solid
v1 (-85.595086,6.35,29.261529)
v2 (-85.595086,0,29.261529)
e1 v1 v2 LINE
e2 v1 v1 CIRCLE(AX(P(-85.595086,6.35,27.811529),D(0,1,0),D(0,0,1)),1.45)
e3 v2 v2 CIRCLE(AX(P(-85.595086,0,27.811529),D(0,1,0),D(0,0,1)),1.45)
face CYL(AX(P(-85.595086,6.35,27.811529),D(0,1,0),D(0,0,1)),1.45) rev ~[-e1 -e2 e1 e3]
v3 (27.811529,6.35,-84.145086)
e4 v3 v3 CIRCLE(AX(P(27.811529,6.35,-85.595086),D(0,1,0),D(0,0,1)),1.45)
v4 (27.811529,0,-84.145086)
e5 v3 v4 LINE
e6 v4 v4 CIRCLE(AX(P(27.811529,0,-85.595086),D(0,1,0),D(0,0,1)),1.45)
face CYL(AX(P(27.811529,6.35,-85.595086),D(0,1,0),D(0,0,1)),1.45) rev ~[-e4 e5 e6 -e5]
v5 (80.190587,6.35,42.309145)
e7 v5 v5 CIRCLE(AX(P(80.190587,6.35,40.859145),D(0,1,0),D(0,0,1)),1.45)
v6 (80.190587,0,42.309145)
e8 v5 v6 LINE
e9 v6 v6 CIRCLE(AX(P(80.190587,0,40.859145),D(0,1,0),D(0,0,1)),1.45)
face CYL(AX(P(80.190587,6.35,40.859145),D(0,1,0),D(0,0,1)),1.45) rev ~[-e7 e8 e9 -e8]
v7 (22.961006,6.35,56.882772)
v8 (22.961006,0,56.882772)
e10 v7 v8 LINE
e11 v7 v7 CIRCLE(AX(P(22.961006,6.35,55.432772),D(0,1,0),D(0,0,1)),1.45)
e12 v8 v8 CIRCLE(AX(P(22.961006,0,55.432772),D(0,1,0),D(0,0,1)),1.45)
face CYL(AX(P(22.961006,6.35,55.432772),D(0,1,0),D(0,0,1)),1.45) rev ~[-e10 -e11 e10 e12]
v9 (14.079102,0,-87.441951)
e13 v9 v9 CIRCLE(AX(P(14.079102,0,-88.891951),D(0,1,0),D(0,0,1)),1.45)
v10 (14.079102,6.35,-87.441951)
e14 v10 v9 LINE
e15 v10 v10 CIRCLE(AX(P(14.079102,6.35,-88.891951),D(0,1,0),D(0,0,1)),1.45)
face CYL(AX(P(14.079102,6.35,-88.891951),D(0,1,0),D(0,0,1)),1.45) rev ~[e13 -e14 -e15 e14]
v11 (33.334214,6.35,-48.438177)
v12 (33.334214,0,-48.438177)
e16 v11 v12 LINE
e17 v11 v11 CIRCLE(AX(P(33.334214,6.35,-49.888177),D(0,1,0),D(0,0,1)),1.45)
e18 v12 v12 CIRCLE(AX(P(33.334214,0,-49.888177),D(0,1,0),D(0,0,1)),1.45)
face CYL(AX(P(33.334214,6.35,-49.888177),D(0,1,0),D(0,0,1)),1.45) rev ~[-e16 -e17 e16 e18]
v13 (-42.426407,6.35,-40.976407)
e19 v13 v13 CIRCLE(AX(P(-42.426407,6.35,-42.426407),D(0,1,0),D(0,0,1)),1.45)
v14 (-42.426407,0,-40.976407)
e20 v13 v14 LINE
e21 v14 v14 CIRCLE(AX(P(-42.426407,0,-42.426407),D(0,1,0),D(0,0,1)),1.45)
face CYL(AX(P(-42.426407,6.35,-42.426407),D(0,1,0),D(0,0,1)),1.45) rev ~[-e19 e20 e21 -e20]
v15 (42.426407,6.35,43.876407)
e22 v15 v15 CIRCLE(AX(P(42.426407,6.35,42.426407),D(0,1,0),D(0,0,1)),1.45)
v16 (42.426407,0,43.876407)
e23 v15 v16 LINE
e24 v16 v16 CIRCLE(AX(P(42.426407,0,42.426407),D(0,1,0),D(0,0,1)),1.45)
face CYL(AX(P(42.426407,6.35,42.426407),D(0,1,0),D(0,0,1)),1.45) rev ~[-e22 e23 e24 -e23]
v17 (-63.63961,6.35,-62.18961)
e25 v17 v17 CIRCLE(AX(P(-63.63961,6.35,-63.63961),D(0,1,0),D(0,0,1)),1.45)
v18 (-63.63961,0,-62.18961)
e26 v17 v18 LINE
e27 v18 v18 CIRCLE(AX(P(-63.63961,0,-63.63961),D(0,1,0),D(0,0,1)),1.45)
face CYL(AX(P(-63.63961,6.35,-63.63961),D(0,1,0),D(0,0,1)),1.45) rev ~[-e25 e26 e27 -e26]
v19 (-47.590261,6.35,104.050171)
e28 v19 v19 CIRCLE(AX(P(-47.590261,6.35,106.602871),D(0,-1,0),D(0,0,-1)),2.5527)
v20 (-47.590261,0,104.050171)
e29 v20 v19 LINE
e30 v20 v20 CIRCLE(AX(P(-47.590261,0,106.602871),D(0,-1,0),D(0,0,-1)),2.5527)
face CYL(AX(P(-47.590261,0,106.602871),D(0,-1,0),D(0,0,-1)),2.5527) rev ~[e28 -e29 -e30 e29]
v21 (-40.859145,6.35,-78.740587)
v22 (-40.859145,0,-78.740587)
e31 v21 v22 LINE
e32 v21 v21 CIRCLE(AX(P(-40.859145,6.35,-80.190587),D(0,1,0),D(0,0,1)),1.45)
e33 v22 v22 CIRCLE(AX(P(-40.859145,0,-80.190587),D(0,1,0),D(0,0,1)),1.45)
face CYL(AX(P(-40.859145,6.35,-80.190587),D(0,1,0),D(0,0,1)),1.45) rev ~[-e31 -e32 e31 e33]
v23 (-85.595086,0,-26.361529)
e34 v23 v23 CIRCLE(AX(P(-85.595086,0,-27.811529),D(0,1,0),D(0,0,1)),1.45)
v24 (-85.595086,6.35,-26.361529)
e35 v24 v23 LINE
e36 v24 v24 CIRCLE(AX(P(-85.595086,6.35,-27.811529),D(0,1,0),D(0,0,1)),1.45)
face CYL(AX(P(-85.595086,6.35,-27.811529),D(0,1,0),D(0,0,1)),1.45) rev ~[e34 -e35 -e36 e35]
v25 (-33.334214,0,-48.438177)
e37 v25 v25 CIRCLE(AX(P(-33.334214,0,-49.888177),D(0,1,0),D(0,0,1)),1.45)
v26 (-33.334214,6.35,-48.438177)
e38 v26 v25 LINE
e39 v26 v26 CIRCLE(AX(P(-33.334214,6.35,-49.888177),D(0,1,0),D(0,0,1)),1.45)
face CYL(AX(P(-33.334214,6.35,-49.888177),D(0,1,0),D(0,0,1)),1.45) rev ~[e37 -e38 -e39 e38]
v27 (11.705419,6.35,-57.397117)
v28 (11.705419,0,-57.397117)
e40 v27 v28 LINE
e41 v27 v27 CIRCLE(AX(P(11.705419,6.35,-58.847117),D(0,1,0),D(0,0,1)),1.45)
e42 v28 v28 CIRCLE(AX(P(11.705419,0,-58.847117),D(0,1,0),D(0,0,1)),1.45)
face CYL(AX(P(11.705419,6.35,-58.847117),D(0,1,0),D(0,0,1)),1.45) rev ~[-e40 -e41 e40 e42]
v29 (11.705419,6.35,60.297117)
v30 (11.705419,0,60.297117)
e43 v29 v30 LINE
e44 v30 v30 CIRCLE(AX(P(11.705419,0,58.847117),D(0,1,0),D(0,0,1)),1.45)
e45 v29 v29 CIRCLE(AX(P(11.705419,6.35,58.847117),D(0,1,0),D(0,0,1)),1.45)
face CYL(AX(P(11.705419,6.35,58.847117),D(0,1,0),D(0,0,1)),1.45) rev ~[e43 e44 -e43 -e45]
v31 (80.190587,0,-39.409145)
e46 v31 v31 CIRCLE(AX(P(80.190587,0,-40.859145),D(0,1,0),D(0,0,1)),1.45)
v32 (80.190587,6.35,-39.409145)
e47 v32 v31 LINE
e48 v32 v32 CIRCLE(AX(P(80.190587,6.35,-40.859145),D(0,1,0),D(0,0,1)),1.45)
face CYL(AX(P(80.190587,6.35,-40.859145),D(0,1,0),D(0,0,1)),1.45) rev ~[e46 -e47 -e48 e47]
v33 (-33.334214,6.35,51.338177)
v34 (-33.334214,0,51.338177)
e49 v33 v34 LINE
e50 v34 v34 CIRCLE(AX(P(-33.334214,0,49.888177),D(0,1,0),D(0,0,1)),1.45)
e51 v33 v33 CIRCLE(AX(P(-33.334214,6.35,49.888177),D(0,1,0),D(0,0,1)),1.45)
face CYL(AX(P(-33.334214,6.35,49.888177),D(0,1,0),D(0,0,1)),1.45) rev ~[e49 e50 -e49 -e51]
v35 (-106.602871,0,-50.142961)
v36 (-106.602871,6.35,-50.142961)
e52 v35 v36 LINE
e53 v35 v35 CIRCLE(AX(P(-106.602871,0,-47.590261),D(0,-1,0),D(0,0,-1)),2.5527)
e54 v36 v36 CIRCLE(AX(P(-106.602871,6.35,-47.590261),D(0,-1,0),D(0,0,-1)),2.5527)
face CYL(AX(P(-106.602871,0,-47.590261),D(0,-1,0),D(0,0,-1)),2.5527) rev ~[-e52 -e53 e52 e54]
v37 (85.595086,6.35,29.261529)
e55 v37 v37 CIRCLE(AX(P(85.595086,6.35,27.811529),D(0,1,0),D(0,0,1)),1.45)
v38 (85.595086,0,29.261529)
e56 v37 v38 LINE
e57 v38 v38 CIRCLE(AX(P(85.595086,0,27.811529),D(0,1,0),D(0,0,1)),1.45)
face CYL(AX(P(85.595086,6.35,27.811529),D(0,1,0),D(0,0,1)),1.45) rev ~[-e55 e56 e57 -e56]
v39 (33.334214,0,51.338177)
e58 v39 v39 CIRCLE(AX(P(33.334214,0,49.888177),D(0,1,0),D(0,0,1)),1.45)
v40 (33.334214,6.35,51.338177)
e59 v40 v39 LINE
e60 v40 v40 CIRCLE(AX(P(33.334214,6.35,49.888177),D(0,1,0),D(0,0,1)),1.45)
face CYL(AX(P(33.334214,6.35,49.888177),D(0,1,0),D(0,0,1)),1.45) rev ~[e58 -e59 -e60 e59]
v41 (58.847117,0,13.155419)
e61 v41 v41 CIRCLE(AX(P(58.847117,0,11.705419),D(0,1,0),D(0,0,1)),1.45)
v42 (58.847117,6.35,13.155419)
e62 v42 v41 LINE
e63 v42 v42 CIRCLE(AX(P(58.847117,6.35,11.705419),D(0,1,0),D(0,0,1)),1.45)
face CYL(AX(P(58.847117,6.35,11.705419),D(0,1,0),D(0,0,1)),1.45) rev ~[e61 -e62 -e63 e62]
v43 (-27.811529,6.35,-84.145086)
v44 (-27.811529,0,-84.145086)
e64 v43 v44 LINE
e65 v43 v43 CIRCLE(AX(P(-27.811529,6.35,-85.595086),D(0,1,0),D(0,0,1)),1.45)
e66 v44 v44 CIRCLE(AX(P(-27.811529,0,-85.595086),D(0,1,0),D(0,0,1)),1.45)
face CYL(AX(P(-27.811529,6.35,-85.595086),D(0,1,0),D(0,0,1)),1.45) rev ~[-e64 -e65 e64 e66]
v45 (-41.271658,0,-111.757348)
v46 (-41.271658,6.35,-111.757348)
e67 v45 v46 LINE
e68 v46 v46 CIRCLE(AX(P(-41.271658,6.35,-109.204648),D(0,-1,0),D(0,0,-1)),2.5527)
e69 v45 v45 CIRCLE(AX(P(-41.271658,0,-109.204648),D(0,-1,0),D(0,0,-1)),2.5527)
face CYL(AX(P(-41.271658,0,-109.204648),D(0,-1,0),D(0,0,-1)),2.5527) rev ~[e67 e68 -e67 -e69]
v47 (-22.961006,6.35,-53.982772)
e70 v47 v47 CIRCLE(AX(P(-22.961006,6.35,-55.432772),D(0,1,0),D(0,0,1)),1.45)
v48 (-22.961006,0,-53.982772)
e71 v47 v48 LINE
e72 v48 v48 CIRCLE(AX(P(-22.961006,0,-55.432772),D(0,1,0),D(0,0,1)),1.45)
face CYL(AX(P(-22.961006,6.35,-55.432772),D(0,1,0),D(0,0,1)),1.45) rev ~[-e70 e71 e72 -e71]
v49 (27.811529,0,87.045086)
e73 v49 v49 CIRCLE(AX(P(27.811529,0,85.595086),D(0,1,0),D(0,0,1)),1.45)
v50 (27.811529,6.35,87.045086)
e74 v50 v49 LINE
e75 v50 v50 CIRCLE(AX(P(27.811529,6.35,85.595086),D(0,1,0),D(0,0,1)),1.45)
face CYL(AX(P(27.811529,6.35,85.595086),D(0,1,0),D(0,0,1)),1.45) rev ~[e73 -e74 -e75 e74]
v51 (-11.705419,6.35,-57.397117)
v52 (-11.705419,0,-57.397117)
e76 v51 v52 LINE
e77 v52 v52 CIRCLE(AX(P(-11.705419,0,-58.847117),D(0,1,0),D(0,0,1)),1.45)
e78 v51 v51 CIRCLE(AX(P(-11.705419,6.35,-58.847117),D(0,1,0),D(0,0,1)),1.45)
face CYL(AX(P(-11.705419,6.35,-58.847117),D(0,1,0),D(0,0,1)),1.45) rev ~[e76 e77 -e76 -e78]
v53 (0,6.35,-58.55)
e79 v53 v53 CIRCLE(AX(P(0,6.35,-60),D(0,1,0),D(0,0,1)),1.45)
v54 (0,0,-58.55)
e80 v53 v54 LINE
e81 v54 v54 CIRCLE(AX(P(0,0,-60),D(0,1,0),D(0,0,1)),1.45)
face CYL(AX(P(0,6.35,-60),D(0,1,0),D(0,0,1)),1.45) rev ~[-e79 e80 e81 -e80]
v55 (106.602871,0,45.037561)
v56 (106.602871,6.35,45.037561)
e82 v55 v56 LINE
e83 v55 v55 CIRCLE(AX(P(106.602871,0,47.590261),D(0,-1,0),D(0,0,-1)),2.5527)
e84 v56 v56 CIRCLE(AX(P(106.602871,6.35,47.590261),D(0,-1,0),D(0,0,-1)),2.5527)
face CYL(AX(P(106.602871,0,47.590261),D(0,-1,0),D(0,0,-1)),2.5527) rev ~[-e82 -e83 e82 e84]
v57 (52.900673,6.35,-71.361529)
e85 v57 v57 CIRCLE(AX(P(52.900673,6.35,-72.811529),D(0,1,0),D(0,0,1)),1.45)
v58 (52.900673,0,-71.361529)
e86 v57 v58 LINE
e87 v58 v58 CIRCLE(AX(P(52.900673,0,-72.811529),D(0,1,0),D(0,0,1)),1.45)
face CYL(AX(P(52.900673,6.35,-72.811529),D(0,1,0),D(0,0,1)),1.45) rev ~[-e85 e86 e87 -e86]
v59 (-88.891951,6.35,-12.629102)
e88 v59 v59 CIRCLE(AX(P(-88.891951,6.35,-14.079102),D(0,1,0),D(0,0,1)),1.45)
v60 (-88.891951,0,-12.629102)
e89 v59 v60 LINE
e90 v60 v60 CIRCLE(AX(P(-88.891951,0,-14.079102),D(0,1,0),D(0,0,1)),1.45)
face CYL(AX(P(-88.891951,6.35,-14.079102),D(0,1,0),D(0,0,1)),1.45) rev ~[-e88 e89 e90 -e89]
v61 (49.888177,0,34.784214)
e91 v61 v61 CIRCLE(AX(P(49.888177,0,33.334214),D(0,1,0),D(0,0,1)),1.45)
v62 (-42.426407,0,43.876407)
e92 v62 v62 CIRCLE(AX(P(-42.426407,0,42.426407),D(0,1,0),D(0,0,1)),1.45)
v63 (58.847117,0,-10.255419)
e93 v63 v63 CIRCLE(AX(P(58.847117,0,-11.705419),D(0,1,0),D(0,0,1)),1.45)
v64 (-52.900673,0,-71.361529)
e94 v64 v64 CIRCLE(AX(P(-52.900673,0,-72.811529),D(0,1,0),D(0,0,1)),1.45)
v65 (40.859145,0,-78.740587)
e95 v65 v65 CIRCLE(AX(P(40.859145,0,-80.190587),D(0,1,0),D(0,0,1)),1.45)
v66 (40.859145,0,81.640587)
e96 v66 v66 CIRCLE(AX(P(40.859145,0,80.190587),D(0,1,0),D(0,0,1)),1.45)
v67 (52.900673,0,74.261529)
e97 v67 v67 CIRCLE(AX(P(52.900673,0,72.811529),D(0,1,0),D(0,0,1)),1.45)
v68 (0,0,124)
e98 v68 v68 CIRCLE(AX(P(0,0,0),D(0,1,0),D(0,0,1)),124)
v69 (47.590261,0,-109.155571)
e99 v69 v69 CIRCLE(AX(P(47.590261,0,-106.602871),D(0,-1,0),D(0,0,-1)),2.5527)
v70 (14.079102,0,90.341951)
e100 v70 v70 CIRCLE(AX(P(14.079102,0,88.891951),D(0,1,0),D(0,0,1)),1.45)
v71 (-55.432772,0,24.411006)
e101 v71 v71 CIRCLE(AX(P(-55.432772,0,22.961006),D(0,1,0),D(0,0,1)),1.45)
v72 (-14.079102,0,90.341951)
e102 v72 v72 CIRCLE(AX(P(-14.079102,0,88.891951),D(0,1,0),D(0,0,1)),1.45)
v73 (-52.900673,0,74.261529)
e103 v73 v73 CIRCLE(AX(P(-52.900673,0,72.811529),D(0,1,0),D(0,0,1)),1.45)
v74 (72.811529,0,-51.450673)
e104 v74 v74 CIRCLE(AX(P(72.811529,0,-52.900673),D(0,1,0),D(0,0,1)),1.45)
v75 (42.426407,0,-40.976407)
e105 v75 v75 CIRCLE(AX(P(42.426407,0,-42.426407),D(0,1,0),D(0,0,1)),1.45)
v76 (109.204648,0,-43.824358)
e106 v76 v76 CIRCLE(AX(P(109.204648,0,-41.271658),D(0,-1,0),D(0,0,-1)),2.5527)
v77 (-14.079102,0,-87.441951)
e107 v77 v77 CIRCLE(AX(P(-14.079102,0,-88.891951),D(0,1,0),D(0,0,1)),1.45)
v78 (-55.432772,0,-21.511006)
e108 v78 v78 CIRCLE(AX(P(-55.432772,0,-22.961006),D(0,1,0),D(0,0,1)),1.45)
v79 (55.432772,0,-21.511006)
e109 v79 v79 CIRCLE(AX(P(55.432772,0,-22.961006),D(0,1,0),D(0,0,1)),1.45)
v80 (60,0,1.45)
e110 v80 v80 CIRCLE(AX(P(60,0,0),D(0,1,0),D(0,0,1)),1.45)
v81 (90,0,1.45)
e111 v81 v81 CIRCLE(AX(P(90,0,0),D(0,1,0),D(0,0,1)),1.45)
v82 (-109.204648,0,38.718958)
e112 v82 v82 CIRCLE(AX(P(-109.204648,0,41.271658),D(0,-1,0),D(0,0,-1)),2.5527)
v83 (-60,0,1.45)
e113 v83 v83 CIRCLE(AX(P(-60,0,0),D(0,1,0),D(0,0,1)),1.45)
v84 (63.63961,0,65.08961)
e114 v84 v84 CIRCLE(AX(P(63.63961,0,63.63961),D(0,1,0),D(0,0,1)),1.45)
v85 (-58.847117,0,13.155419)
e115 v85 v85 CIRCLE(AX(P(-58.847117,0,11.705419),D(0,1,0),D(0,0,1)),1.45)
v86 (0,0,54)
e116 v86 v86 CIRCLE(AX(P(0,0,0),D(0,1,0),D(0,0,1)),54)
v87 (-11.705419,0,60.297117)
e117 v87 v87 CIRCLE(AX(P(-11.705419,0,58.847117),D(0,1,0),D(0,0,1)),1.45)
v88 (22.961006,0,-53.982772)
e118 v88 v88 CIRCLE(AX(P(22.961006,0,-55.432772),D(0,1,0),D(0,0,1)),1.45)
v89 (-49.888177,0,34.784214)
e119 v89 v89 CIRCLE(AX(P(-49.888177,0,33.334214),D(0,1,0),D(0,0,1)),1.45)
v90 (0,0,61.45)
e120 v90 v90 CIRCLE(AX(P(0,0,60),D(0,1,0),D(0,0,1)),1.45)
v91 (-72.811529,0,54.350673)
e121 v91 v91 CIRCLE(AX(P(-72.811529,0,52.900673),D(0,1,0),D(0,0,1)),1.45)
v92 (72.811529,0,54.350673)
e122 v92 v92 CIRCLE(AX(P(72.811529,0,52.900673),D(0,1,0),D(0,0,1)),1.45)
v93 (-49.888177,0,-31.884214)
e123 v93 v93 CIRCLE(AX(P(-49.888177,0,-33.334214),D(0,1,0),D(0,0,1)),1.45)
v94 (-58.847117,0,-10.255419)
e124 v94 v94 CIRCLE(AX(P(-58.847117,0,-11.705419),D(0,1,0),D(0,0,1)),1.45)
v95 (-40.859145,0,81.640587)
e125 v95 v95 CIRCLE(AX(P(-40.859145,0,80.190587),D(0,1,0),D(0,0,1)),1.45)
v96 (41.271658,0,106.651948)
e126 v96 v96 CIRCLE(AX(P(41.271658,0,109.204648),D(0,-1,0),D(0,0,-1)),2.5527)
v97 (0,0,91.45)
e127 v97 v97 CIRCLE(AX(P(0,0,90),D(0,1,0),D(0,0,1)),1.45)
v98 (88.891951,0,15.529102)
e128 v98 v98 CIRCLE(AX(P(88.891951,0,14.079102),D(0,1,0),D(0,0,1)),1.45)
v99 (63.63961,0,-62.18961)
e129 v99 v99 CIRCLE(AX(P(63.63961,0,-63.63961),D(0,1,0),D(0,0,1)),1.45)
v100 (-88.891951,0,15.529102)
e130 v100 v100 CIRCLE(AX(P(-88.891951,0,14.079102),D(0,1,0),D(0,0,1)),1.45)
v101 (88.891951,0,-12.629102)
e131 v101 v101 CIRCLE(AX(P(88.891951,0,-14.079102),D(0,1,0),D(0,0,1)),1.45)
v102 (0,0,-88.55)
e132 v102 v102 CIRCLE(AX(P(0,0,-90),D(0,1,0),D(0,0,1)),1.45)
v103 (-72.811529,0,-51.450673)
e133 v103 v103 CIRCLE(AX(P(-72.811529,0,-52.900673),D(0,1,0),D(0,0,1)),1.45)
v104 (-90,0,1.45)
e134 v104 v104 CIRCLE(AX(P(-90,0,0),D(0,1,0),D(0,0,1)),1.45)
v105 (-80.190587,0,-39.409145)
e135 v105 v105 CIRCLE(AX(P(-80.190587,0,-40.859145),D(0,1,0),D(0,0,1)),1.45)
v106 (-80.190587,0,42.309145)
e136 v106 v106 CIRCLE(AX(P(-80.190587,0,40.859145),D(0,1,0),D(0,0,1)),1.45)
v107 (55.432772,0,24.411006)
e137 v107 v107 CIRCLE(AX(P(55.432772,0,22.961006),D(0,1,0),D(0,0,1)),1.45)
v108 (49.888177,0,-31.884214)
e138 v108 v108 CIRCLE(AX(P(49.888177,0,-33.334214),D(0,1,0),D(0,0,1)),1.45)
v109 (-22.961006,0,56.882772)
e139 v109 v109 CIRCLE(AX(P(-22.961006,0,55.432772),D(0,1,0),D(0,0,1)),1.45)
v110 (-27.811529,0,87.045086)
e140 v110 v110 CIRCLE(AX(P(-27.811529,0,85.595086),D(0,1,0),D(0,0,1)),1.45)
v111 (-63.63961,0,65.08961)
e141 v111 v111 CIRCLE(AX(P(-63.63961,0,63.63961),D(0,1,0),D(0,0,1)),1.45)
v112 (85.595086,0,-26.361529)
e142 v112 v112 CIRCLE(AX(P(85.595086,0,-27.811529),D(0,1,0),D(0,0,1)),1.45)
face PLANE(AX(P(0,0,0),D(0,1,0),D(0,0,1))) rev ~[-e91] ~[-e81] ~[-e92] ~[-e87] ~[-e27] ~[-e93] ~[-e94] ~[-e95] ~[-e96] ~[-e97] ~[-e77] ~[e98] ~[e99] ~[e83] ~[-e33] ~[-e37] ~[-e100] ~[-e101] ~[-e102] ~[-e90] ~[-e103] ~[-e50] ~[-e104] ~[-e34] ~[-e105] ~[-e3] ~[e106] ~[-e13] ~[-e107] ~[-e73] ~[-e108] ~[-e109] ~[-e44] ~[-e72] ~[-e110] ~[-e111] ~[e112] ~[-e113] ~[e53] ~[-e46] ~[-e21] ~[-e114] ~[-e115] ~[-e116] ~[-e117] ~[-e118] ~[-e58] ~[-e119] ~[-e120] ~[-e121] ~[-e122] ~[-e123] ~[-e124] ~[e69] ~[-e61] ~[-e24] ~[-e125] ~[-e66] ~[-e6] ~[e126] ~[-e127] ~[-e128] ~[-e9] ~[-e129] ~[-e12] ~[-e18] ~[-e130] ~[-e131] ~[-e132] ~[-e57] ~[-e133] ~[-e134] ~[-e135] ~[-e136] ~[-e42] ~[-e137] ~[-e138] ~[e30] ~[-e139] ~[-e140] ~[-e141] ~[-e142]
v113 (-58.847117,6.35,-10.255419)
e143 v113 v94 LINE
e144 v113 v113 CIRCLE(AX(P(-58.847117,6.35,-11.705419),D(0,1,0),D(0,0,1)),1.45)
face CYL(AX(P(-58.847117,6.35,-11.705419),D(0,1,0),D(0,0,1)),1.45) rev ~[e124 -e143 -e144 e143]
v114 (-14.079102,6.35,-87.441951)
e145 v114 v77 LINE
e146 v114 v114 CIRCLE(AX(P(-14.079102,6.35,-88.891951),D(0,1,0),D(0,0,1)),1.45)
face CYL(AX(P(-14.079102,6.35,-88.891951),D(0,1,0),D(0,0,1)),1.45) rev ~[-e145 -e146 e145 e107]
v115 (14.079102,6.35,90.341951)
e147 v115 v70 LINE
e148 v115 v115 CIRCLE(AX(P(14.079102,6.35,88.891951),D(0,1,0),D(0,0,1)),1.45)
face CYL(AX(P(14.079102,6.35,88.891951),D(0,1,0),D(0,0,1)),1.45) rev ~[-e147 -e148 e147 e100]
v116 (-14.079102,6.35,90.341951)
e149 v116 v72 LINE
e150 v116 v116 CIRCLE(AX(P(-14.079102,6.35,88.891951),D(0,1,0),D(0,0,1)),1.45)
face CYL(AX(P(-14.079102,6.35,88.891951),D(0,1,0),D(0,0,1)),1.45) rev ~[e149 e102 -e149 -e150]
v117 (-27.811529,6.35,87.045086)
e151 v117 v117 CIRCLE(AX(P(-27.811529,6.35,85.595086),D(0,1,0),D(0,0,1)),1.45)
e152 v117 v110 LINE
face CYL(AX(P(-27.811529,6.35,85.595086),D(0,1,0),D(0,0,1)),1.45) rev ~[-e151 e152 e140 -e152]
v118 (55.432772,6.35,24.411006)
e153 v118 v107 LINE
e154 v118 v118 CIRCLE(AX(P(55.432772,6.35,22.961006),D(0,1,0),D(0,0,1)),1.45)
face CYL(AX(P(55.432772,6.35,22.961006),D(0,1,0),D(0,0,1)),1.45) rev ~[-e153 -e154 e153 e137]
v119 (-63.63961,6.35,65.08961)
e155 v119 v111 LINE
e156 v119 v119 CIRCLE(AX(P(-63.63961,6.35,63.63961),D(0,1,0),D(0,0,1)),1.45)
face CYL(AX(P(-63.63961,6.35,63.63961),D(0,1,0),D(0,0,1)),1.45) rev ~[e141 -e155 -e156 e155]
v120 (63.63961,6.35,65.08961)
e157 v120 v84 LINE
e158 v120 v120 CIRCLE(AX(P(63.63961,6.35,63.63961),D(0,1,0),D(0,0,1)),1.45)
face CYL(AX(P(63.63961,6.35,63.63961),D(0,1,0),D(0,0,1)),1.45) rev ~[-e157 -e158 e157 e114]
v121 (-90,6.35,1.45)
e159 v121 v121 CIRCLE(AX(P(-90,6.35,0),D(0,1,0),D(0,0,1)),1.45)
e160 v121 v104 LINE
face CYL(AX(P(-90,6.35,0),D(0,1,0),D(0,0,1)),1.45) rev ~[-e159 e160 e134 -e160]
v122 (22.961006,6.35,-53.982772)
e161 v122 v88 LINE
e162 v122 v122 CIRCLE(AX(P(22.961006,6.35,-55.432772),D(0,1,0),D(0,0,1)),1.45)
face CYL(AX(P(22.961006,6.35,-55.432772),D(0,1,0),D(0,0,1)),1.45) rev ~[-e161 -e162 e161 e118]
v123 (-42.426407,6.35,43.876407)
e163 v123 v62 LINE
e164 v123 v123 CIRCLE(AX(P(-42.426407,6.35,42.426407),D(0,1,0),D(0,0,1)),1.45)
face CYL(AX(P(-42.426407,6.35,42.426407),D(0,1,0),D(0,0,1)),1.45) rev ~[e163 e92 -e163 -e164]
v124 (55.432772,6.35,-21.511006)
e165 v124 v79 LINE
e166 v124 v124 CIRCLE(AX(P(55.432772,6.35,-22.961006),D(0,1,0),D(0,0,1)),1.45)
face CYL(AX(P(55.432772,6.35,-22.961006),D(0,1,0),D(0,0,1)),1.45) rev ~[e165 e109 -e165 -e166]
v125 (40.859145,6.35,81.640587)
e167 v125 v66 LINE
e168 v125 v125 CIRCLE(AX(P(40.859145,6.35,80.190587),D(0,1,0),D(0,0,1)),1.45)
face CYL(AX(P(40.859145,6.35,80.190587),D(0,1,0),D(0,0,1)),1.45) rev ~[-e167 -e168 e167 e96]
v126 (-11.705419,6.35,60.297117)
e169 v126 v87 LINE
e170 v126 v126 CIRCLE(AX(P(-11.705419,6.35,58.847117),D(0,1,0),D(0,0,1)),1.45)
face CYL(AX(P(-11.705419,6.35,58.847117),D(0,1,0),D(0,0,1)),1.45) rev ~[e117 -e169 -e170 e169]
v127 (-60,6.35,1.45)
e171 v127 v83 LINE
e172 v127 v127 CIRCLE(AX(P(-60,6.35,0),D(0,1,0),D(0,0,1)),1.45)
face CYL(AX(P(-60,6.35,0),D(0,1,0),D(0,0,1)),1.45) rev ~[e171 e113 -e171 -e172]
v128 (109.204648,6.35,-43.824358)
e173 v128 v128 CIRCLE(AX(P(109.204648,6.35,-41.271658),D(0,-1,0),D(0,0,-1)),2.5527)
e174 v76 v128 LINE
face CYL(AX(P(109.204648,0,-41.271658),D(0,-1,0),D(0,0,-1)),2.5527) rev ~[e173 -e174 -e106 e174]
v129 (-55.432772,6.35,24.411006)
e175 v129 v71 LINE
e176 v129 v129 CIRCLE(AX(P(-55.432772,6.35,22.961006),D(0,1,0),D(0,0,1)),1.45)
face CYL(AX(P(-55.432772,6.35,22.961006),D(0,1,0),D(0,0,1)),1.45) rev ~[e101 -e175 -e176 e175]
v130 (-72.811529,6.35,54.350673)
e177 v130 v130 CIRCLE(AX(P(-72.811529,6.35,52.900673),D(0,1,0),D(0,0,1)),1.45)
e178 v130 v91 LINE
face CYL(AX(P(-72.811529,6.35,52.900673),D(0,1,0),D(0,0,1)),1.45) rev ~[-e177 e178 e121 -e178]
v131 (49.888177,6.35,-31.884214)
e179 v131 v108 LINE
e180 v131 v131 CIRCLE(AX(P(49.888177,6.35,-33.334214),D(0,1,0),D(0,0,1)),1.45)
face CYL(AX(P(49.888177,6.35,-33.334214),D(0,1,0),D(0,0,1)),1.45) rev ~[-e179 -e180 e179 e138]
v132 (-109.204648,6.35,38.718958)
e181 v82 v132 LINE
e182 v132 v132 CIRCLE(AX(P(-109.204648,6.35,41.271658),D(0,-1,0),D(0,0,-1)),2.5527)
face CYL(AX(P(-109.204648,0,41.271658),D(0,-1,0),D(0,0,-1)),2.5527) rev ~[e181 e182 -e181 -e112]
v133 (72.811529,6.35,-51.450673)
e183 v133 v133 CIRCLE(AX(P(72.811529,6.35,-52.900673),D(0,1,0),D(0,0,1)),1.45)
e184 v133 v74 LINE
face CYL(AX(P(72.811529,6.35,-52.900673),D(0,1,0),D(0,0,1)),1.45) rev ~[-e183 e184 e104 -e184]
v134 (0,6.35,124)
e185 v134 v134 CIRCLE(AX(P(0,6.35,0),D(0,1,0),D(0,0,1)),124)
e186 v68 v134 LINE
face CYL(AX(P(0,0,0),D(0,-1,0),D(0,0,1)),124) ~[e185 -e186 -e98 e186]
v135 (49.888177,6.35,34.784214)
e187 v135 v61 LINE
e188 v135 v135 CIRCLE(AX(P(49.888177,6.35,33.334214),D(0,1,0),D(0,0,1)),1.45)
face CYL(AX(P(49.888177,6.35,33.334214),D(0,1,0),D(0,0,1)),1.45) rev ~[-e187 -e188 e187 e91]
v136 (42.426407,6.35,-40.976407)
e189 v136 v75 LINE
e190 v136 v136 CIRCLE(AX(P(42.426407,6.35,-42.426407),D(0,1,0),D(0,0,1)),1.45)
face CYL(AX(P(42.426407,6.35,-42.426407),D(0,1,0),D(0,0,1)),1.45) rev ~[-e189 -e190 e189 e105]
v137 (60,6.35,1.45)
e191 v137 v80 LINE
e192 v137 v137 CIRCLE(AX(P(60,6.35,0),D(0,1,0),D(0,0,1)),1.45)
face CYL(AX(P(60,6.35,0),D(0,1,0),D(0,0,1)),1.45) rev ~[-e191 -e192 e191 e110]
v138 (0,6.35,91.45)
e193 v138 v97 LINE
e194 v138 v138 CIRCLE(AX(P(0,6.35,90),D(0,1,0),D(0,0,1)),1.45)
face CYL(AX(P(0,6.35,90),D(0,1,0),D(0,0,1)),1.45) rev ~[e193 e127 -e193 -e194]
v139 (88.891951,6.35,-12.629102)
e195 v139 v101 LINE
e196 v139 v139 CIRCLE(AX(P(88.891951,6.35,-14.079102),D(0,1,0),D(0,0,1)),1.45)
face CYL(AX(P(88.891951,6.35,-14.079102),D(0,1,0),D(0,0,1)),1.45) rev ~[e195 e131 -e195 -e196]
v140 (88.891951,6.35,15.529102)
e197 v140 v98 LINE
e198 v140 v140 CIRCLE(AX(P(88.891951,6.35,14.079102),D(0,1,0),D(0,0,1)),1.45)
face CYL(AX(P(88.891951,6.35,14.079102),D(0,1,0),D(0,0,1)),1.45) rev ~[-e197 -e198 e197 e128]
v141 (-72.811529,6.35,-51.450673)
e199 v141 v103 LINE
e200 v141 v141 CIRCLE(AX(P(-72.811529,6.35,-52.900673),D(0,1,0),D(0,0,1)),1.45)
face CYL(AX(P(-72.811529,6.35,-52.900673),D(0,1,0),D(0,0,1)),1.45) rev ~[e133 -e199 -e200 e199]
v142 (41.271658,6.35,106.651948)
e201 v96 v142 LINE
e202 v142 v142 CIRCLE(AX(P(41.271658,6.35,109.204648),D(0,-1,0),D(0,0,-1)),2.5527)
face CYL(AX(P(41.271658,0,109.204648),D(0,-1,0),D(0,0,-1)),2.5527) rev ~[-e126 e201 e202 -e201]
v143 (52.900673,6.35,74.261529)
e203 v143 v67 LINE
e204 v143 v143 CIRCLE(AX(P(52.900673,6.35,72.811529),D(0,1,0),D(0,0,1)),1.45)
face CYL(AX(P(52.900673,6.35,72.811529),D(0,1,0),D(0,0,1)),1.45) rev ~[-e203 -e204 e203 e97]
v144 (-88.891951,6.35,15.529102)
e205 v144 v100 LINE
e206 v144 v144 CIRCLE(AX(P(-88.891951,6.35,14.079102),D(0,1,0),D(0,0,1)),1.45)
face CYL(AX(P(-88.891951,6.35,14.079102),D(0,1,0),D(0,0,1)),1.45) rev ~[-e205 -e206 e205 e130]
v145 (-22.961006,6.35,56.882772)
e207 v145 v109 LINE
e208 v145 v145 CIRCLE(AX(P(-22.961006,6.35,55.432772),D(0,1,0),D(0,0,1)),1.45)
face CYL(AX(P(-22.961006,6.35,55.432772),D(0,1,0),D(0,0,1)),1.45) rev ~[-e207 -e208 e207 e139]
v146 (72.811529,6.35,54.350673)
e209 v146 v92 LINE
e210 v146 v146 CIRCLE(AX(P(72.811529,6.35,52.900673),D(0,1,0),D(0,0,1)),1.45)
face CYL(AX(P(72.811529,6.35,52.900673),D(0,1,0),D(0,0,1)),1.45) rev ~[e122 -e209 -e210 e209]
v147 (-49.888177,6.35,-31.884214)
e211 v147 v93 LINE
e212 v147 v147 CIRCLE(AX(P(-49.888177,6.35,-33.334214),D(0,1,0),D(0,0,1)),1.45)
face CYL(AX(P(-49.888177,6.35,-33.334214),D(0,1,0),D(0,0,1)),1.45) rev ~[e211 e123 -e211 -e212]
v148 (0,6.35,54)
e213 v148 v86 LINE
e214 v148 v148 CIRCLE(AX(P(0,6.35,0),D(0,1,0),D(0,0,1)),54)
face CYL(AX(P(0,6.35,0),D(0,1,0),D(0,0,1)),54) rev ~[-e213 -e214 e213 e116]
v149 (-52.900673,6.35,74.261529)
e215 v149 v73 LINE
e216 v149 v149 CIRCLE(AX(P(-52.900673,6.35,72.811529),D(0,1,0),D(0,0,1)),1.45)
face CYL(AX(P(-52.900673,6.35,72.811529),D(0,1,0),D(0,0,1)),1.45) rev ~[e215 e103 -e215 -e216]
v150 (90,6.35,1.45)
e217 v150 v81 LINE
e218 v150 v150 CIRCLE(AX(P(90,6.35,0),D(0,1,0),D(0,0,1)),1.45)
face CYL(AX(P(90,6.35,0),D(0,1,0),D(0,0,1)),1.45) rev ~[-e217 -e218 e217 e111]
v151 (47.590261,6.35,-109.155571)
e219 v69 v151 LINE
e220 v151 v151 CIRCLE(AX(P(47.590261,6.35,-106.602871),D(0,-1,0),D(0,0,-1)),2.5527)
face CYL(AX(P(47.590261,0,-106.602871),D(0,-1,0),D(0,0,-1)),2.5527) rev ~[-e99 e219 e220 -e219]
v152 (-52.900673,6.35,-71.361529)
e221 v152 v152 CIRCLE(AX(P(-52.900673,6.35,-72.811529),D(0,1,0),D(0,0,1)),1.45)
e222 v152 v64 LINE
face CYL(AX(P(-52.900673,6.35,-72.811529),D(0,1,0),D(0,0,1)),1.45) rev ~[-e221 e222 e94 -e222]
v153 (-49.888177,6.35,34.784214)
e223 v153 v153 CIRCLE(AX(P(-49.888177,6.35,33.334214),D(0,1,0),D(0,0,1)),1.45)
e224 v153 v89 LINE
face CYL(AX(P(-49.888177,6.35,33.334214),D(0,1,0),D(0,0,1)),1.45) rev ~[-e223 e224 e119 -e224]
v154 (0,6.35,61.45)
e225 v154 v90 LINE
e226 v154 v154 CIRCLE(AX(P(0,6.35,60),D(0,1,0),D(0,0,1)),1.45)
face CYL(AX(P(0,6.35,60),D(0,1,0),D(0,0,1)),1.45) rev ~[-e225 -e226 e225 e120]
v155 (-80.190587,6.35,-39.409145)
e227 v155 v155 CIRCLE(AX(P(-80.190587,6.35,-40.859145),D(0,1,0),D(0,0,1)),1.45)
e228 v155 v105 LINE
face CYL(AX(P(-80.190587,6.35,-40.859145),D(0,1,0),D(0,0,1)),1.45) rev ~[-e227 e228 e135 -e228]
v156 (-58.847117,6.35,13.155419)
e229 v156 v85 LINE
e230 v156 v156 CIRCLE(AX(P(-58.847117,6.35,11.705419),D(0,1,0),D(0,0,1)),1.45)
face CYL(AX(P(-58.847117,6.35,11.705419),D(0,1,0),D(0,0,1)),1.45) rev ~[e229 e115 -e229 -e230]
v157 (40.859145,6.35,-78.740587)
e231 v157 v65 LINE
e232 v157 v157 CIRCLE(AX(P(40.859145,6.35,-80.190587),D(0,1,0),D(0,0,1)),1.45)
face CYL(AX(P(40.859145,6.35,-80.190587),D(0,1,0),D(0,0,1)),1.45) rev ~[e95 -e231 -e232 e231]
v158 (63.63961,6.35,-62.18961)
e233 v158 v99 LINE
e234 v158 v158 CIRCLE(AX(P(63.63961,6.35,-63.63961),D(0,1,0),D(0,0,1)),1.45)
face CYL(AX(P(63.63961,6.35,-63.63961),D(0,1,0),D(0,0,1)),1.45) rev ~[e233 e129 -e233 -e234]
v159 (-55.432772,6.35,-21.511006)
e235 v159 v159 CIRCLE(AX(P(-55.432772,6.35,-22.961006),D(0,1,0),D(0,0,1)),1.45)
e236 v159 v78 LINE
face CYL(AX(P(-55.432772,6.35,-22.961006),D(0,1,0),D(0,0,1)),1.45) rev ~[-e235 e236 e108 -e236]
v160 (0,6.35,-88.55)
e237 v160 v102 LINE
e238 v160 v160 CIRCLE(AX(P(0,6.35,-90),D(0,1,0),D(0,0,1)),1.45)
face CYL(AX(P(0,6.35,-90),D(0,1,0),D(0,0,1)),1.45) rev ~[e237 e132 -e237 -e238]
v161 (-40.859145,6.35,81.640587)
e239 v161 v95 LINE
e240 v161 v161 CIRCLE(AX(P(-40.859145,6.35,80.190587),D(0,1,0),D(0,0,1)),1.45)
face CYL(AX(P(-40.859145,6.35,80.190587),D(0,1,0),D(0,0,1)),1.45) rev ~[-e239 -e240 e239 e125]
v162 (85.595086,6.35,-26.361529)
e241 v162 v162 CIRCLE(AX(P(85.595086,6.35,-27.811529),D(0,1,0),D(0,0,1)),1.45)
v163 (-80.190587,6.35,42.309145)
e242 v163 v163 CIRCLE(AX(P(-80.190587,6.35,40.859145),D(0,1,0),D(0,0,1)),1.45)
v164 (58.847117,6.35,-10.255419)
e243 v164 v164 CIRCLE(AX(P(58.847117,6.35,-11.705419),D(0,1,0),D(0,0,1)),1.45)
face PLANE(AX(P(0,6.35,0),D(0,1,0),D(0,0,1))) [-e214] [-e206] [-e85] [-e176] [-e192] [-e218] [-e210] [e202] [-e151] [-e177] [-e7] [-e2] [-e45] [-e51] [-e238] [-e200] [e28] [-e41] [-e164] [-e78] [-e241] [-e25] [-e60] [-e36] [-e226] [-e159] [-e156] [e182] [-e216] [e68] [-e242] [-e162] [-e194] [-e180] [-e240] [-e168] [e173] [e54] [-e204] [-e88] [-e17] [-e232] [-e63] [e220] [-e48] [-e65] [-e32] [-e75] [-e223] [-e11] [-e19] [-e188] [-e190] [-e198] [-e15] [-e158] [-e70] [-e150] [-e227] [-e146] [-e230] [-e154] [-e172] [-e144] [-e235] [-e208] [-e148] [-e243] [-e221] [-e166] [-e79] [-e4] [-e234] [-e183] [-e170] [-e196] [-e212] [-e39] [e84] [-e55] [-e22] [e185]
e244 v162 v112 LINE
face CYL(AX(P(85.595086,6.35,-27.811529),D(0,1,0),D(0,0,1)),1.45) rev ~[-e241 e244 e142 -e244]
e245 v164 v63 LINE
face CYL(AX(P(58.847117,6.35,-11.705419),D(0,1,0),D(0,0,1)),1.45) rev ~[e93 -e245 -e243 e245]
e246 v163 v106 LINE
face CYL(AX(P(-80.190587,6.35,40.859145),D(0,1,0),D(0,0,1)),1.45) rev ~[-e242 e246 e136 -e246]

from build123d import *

# Parameters (mm, degrees)
SKETCH1_R           = 124
BOSS_EXTRUDE1_DEPTH = 6.35
SKETCH6_R           = 2.5527
CUT_EXTRUDE1_DEPTH  = 176.477413076
SKETCH8_R           = 11
CUT_EXTRUDE3_DEPTH  = 176.477413076
SKETCH9_R           = 2.45
CUT_EXTRUDE4_DEPTH  = 176.477413076
SKETCH12_R          = 1.45
CUT_EXTRUDE5_DEPTH  = 176.477413076
SKETCH13_R          = 54
CUT_EXTRUDE6_DEPTH  = 176.477413076


with BuildPart() as part:
    # Sketch1 → Boss-Extrude1 (new body)
    with BuildSketch(Plane(origin=(0, 0, 0), x_dir=(1, 0, 0), z_dir=(0, 1, 0))):
        with Locations(Location((0, 0, 0), (0, 0, 270))):
            Circle(SKETCH1_R)
    extrude(amount=BOSS_EXTRUDE1_DEPTH)

    # Sketch6 → Cut-Extrude1 (cut, through all)
    with BuildSketch(Plane.XZ):
        with Locations(Location((-109.204648421, 41.27165811, 0), (0, 0, 270))):
            Circle(SKETCH6_R)
        with Locations(Location((-106.602870566, -47.590261473, 0), (0, 0, 270))):
            Circle(SKETCH6_R)
        with Locations(Location((109.204648421, -41.27165811, 0), (0, 0, 270))):
            Circle(SKETCH6_R)
        with Locations(Location((106.602870566, 47.590261473, 0), (0, 0, 270))):
            Circle(SKETCH6_R)
        with Locations(Location((41.27165811, 109.204648421, 0), (0, 0, 270))):
            Circle(SKETCH6_R)
        with Locations(Location((-47.590261473, 106.602870566, 0), (0, 0, 270))):
            Circle(SKETCH6_R)
        with Locations(Location((-41.27165811, -109.204648421, 0), (0, 0, 270))):
            Circle(SKETCH6_R)
        with Locations(Location((47.590261473, -106.602870566, 0), (0, 0, 270))):
            Circle(SKETCH6_R)
    extrude(amount=-CUT_EXTRUDE1_DEPTH, mode=Mode.SUBTRACT)

    # Sketch8 → Cut-Extrude3 (cut, through all)
    with BuildSketch(Plane(origin=(0, 6.35, 0), x_dir=(1, 0, 0), z_dir=(0, 1, 0))):
        with Locations(Location((0, 0, 0), (0, 0, 270))):
            Circle(SKETCH8_R)
    extrude(amount=-CUT_EXTRUDE3_DEPTH, mode=Mode.SUBTRACT)

    # Sketch9 → Cut-Extrude4 (cut, through all)
    with BuildSketch(Plane(origin=(0, 6.35, 0), x_dir=(1, 0, 0), z_dir=(0, 1, 0))):
        with Locations(Location((-15.112143296, -8.725, 0), (0, 0, 270))):
            Circle(SKETCH9_R)
        with Locations(Location((0, 17.45, 0), (0, 0, 270))):
            Circle(SKETCH9_R)
        with Locations(Location((15.112143296, -8.725, 0), (0, 0, 270))):
            Circle(SKETCH9_R)
    extrude(amount=-CUT_EXTRUDE4_DEPTH, mode=Mode.SUBTRACT)

    # Sketch12 → Cut-Extrude5 (cut, through all)
    with BuildSketch(Plane(origin=(0, 6.35, 0), x_dir=(1, 0, 0), z_dir=(0, 1, 0))):
        with Locations(Location((0, 30, 0), (0, 0, 270))):
            Circle(SKETCH12_R)
        with Locations(Location((0, 60, 0), (0, 0, 270))):
            Circle(SKETCH12_R)
        with Locations(Location((0, 90, 0), (0, 0, 270))):
            Circle(SKETCH12_R)
        with Locations(Location((11.480502971, 27.716385975, 0), (0, 0, 270))):
            Circle(SKETCH12_R)
        with Locations(Location((21.213203436, 21.213203436, 0), (0, 0, 270))):
            Circle(SKETCH12_R)
        with Locations(Location((27.716385975, 11.480502971, 0), (0, 0, 270))):
            Circle(SKETCH12_R)
        with Locations(Location((30, 0, 0), (0, 0, 270))):
            Circle(SKETCH12_R)
        with Locations(Location((27.716385975, -11.480502971, 0), (0, 0, 270))):
            Circle(SKETCH12_R)
        with Locations(Location((21.213203436, -21.213203436, 0), (0, 0, 270))):
            Circle(SKETCH12_R)
        with Locations(Location((11.480502971, -27.716385975, 0), (0, 0, 270))):
            Circle(SKETCH12_R)
        with Locations(Location((0, -30, 0), (0, 0, 270))):
            Circle(SKETCH12_R)
        with Locations(Location((-11.480502971, -27.716385975, 0), (0, 0, 270))):
            Circle(SKETCH12_R)
        with Locations(Location((-21.213203436, -21.213203436, 0), (0, 0, 270))):
            Circle(SKETCH12_R)
        with Locations(Location((-27.716385975, -11.480502971, 0), (0, 0, 270))):
            Circle(SKETCH12_R)
        with Locations(Location((-30, 0, 0), (0, 0, 270))):
            Circle(SKETCH12_R)
        with Locations(Location((-27.716385975, 11.480502971, 0), (0, 0, 270))):
            Circle(SKETCH12_R)
        with Locations(Location((-21.213203436, 21.213203436, 0), (0, 0, 270))):
            Circle(SKETCH12_R)
        with Locations(Location((-11.480502971, 27.716385975, 0), (0, 0, 270))):
            Circle(SKETCH12_R)
        with Locations(Location((11.705419321, 58.847116824, 0), (0, 0, 270))):
            Circle(SKETCH12_R)
        with Locations(Location((22.961005942, 55.432771951, 0), (0, 0, 270))):
            Circle(SKETCH12_R)
        with Locations(Location((33.334213981, 49.888176738, 0), (0, 0, 270))):
            Circle(SKETCH12_R)
        with Locations(Location((42.426406871, 42.426406871, 0), (0, 0, 270))):
            Circle(SKETCH12_R)
        with Locations(Location((49.888176738, 33.334213981, 0), (0, 0, 270))):
            Circle(SKETCH12_R)
        with Locations(Location((55.432771951, 22.961005942, 0), (0, 0, 270))):
            Circle(SKETCH12_R)
        with Locations(Location((58.847116824, 11.705419321, 0), (0, 0, 270))):
            Circle(SKETCH12_R)
        with Locations(Location((60, 0, 0), (0, 0, 270))):
            Circle(SKETCH12_R)
        with Locations(Location((58.847116824, -11.705419321, 0), (0, 0, 270))):
            Circle(SKETCH12_R)
        with Locations(Location((55.432771951, -22.961005942, 0), (0, 0, 270))):
            Circle(SKETCH12_R)
        with Locations(Location((49.888176738, -33.334213981, 0), (0, 0, 270))):
            Circle(SKETCH12_R)
        with Locations(Location((42.426406871, -42.426406871, 0), (0, 0, 270))):
            Circle(SKETCH12_R)
        with Locations(Location((33.334213981, -49.888176738, 0), (0, 0, 270))):
            Circle(SKETCH12_R)
        with Locations(Location((22.961005942, -55.432771951, 0), (0, 0, 270))):
            Circle(SKETCH12_R)
        with Locations(Location((11.705419321, -58.847116824, 0), (0, 0, 270))):
            Circle(SKETCH12_R)
        with Locations(Location((0, -60, 0), (0, 0, 270))):
            Circle(SKETCH12_R)
        with Locations(Location((-11.705419321, -58.847116824, 0), (0, 0, 270))):
            Circle(SKETCH12_R)
        with Locations(Location((-22.961005942, -55.432771951, 0), (0, 0, 270))):
            Circle(SKETCH12_R)
        with Locations(Location((-33.334213981, -49.888176738, 0), (0, 0, 270))):
            Circle(SKETCH12_R)
        with Locations(Location((-42.426406871, -42.426406871, 0), (0, 0, 270))):
            Circle(SKETCH12_R)
        with Locations(Location((-49.888176738, -33.334213981, 0), (0, 0, 270))):
            Circle(SKETCH12_R)
        with Locations(Location((-55.432771951, -22.961005942, 0), (0, 0, 270))):
            Circle(SKETCH12_R)
        with Locations(Location((-58.847116824, -11.705419321, 0), (0, 0, 270))):
            Circle(SKETCH12_R)
        with Locations(Location((-60, 0, 0), (0, 0, 270))):
            Circle(SKETCH12_R)
        with Locations(Location((-58.847116824, 11.705419321, 0), (0, 0, 270))):
            Circle(SKETCH12_R)
        with Locations(Location((-55.432771951, 22.961005942, 0), (0, 0, 270))):
            Circle(SKETCH12_R)
        with Locations(Location((-49.888176738, 33.334213981, 0), (0, 0, 270))):
            Circle(SKETCH12_R)
        with Locations(Location((-42.426406871, 42.426406871, 0), (0, 0, 270))):
            Circle(SKETCH12_R)
        with Locations(Location((-33.334213981, 49.888176738, 0), (0, 0, 270))):
            Circle(SKETCH12_R)
        with Locations(Location((-22.961005942, 55.432771951, 0), (0, 0, 270))):
            Circle(SKETCH12_R)
        with Locations(Location((-11.705419321, 58.847116824, 0), (0, 0, 270))):
            Circle(SKETCH12_R)
        with Locations(Location((14.079101854, 88.891950654, 0), (0, 0, 270))):
            Circle(SKETCH12_R)
        with Locations(Location((27.811529494, 85.595086467, 0), (0, 0, 270))):
            Circle(SKETCH12_R)
        with Locations(Location((40.859144977, 80.190587177, 0), (0, 0, 270))):
            Circle(SKETCH12_R)
        with Locations(Location((52.900672706, 72.811529494, 0), (0, 0, 270))):
            Circle(SKETCH12_R)
        with Locations(Location((63.639610307, 63.639610307, 0), (0, 0, 270))):
            Circle(SKETCH12_R)
        with Locations(Location((72.811529494, 52.900672706, 0), (0, 0, 270))):
            Circle(SKETCH12_R)
        with Locations(Location((80.190587177, 40.859144977, 0), (0, 0, 270))):
            Circle(SKETCH12_R)
        with Locations(Location((85.595086467, 27.811529494, 0), (0, 0, 270))):
            Circle(SKETCH12_R)
        with Locations(Location((88.891950654, 14.079101854, 0), (0, 0, 270))):
            Circle(SKETCH12_R)
        with Locations(Location((90, 0, 0), (0, 0, 270))):
            Circle(SKETCH12_R)
        with Locations(Location((88.891950654, -14.079101854, 0), (0, 0, 270))):
            Circle(SKETCH12_R)
        with Locations(Location((85.595086467, -27.811529494, 0), (0, 0, 270))):
            Circle(SKETCH12_R)
        with Locations(Location((80.190587177, -40.859144977, 0), (0, 0, 270))):
            Circle(SKETCH12_R)
        with Locations(Location((72.811529494, -52.900672706, 0), (0, 0, 270))):
            Circle(SKETCH12_R)
        with Locations(Location((63.639610307, -63.639610307, 0), (0, 0, 270))):
            Circle(SKETCH12_R)
        with Locations(Location((52.900672706, -72.811529494, 0), (0, 0, 270))):
            Circle(SKETCH12_R)
        with Locations(Location((40.859144977, -80.190587177, 0), (0, 0, 270))):
            Circle(SKETCH12_R)
        with Locations(Location((27.811529494, -85.595086467, 0), (0, 0, 270))):
            Circle(SKETCH12_R)
        with Locations(Location((14.079101854, -88.891950654, 0), (0, 0, 270))):
            Circle(SKETCH12_R)
        with Locations(Location((0, -90, 0), (0, 0, 270))):
            Circle(SKETCH12_R)
        with Locations(Location((-14.079101854, -88.891950654, 0), (0, 0, 270))):
            Circle(SKETCH12_R)
        with Locations(Location((-27.811529494, -85.595086467, 0), (0, 0, 270))):
            Circle(SKETCH12_R)
        with Locations(Location((-40.859144977, -80.190587177, 0), (0, 0, 270))):
            Circle(SKETCH12_R)
        with Locations(Location((-52.900672706, -72.811529494, 0), (0, 0, 270))):
            Circle(SKETCH12_R)
        with Locations(Location((-63.639610307, -63.639610307, 0), (0, 0, 270))):
            Circle(SKETCH12_R)
        with Locations(Location((-72.811529494, -52.900672706, 0), (0, 0, 270))):
            Circle(SKETCH12_R)
        with Locations(Location((-80.190587177, -40.859144977, 0), (0, 0, 270))):
            Circle(SKETCH12_R)
        with Locations(Location((-85.595086467, -27.811529494, 0), (0, 0, 270))):
            Circle(SKETCH12_R)
        with Locations(Location((-88.891950654, -14.079101854, 0), (0, 0, 270))):
            Circle(SKETCH12_R)
        with Locations(Location((-90, 0, 0), (0, 0, 270))):
            Circle(SKETCH12_R)
        with Locations(Location((-88.891950654, 14.079101854, 0), (0, 0, 270))):
            Circle(SKETCH12_R)
        with Locations(Location((-85.595086467, 27.811529494, 0), (0, 0, 270))):
            Circle(SKETCH12_R)
        with Locations(Location((-80.190587177, 40.859144977, 0), (0, 0, 270))):
            Circle(SKETCH12_R)
        with Locations(Location((-72.811529494, 52.900672706, 0), (0, 0, 270))):
            Circle(SKETCH12_R)
        with Locations(Location((-63.639610307, 63.639610307, 0), (0, 0, 270))):
            Circle(SKETCH12_R)
        with Locations(Location((-52.900672706, 72.811529494, 0), (0, 0, 270))):
            Circle(SKETCH12_R)
        with Locations(Location((-40.859144977, 80.190587177, 0), (0, 0, 270))):
            Circle(SKETCH12_R)
        with Locations(Location((-27.811529494, 85.595086467, 0), (0, 0, 270))):
            Circle(SKETCH12_R)
        with Locations(Location((-14.079101854, 88.891950654, 0), (0, 0, 270))):
            Circle(SKETCH12_R)
    extrude(amount=-CUT_EXTRUDE5_DEPTH, mode=Mode.SUBTRACT)

    # Sketch13 → Cut-Extrude6 (cut, through all)
    with BuildSketch(Plane(origin=(0, 6.35, 0), x_dir=(1, 0, 0), z_dir=(0, 1, 0))):
        with Locations(Location((0, 0, 0), (0, 0, 270))):
            Circle(SKETCH13_R)
    extrude(amount=-CUT_EXTRUDE6_DEPTH, mode=Mode.SUBTRACT)


solid = part.part
